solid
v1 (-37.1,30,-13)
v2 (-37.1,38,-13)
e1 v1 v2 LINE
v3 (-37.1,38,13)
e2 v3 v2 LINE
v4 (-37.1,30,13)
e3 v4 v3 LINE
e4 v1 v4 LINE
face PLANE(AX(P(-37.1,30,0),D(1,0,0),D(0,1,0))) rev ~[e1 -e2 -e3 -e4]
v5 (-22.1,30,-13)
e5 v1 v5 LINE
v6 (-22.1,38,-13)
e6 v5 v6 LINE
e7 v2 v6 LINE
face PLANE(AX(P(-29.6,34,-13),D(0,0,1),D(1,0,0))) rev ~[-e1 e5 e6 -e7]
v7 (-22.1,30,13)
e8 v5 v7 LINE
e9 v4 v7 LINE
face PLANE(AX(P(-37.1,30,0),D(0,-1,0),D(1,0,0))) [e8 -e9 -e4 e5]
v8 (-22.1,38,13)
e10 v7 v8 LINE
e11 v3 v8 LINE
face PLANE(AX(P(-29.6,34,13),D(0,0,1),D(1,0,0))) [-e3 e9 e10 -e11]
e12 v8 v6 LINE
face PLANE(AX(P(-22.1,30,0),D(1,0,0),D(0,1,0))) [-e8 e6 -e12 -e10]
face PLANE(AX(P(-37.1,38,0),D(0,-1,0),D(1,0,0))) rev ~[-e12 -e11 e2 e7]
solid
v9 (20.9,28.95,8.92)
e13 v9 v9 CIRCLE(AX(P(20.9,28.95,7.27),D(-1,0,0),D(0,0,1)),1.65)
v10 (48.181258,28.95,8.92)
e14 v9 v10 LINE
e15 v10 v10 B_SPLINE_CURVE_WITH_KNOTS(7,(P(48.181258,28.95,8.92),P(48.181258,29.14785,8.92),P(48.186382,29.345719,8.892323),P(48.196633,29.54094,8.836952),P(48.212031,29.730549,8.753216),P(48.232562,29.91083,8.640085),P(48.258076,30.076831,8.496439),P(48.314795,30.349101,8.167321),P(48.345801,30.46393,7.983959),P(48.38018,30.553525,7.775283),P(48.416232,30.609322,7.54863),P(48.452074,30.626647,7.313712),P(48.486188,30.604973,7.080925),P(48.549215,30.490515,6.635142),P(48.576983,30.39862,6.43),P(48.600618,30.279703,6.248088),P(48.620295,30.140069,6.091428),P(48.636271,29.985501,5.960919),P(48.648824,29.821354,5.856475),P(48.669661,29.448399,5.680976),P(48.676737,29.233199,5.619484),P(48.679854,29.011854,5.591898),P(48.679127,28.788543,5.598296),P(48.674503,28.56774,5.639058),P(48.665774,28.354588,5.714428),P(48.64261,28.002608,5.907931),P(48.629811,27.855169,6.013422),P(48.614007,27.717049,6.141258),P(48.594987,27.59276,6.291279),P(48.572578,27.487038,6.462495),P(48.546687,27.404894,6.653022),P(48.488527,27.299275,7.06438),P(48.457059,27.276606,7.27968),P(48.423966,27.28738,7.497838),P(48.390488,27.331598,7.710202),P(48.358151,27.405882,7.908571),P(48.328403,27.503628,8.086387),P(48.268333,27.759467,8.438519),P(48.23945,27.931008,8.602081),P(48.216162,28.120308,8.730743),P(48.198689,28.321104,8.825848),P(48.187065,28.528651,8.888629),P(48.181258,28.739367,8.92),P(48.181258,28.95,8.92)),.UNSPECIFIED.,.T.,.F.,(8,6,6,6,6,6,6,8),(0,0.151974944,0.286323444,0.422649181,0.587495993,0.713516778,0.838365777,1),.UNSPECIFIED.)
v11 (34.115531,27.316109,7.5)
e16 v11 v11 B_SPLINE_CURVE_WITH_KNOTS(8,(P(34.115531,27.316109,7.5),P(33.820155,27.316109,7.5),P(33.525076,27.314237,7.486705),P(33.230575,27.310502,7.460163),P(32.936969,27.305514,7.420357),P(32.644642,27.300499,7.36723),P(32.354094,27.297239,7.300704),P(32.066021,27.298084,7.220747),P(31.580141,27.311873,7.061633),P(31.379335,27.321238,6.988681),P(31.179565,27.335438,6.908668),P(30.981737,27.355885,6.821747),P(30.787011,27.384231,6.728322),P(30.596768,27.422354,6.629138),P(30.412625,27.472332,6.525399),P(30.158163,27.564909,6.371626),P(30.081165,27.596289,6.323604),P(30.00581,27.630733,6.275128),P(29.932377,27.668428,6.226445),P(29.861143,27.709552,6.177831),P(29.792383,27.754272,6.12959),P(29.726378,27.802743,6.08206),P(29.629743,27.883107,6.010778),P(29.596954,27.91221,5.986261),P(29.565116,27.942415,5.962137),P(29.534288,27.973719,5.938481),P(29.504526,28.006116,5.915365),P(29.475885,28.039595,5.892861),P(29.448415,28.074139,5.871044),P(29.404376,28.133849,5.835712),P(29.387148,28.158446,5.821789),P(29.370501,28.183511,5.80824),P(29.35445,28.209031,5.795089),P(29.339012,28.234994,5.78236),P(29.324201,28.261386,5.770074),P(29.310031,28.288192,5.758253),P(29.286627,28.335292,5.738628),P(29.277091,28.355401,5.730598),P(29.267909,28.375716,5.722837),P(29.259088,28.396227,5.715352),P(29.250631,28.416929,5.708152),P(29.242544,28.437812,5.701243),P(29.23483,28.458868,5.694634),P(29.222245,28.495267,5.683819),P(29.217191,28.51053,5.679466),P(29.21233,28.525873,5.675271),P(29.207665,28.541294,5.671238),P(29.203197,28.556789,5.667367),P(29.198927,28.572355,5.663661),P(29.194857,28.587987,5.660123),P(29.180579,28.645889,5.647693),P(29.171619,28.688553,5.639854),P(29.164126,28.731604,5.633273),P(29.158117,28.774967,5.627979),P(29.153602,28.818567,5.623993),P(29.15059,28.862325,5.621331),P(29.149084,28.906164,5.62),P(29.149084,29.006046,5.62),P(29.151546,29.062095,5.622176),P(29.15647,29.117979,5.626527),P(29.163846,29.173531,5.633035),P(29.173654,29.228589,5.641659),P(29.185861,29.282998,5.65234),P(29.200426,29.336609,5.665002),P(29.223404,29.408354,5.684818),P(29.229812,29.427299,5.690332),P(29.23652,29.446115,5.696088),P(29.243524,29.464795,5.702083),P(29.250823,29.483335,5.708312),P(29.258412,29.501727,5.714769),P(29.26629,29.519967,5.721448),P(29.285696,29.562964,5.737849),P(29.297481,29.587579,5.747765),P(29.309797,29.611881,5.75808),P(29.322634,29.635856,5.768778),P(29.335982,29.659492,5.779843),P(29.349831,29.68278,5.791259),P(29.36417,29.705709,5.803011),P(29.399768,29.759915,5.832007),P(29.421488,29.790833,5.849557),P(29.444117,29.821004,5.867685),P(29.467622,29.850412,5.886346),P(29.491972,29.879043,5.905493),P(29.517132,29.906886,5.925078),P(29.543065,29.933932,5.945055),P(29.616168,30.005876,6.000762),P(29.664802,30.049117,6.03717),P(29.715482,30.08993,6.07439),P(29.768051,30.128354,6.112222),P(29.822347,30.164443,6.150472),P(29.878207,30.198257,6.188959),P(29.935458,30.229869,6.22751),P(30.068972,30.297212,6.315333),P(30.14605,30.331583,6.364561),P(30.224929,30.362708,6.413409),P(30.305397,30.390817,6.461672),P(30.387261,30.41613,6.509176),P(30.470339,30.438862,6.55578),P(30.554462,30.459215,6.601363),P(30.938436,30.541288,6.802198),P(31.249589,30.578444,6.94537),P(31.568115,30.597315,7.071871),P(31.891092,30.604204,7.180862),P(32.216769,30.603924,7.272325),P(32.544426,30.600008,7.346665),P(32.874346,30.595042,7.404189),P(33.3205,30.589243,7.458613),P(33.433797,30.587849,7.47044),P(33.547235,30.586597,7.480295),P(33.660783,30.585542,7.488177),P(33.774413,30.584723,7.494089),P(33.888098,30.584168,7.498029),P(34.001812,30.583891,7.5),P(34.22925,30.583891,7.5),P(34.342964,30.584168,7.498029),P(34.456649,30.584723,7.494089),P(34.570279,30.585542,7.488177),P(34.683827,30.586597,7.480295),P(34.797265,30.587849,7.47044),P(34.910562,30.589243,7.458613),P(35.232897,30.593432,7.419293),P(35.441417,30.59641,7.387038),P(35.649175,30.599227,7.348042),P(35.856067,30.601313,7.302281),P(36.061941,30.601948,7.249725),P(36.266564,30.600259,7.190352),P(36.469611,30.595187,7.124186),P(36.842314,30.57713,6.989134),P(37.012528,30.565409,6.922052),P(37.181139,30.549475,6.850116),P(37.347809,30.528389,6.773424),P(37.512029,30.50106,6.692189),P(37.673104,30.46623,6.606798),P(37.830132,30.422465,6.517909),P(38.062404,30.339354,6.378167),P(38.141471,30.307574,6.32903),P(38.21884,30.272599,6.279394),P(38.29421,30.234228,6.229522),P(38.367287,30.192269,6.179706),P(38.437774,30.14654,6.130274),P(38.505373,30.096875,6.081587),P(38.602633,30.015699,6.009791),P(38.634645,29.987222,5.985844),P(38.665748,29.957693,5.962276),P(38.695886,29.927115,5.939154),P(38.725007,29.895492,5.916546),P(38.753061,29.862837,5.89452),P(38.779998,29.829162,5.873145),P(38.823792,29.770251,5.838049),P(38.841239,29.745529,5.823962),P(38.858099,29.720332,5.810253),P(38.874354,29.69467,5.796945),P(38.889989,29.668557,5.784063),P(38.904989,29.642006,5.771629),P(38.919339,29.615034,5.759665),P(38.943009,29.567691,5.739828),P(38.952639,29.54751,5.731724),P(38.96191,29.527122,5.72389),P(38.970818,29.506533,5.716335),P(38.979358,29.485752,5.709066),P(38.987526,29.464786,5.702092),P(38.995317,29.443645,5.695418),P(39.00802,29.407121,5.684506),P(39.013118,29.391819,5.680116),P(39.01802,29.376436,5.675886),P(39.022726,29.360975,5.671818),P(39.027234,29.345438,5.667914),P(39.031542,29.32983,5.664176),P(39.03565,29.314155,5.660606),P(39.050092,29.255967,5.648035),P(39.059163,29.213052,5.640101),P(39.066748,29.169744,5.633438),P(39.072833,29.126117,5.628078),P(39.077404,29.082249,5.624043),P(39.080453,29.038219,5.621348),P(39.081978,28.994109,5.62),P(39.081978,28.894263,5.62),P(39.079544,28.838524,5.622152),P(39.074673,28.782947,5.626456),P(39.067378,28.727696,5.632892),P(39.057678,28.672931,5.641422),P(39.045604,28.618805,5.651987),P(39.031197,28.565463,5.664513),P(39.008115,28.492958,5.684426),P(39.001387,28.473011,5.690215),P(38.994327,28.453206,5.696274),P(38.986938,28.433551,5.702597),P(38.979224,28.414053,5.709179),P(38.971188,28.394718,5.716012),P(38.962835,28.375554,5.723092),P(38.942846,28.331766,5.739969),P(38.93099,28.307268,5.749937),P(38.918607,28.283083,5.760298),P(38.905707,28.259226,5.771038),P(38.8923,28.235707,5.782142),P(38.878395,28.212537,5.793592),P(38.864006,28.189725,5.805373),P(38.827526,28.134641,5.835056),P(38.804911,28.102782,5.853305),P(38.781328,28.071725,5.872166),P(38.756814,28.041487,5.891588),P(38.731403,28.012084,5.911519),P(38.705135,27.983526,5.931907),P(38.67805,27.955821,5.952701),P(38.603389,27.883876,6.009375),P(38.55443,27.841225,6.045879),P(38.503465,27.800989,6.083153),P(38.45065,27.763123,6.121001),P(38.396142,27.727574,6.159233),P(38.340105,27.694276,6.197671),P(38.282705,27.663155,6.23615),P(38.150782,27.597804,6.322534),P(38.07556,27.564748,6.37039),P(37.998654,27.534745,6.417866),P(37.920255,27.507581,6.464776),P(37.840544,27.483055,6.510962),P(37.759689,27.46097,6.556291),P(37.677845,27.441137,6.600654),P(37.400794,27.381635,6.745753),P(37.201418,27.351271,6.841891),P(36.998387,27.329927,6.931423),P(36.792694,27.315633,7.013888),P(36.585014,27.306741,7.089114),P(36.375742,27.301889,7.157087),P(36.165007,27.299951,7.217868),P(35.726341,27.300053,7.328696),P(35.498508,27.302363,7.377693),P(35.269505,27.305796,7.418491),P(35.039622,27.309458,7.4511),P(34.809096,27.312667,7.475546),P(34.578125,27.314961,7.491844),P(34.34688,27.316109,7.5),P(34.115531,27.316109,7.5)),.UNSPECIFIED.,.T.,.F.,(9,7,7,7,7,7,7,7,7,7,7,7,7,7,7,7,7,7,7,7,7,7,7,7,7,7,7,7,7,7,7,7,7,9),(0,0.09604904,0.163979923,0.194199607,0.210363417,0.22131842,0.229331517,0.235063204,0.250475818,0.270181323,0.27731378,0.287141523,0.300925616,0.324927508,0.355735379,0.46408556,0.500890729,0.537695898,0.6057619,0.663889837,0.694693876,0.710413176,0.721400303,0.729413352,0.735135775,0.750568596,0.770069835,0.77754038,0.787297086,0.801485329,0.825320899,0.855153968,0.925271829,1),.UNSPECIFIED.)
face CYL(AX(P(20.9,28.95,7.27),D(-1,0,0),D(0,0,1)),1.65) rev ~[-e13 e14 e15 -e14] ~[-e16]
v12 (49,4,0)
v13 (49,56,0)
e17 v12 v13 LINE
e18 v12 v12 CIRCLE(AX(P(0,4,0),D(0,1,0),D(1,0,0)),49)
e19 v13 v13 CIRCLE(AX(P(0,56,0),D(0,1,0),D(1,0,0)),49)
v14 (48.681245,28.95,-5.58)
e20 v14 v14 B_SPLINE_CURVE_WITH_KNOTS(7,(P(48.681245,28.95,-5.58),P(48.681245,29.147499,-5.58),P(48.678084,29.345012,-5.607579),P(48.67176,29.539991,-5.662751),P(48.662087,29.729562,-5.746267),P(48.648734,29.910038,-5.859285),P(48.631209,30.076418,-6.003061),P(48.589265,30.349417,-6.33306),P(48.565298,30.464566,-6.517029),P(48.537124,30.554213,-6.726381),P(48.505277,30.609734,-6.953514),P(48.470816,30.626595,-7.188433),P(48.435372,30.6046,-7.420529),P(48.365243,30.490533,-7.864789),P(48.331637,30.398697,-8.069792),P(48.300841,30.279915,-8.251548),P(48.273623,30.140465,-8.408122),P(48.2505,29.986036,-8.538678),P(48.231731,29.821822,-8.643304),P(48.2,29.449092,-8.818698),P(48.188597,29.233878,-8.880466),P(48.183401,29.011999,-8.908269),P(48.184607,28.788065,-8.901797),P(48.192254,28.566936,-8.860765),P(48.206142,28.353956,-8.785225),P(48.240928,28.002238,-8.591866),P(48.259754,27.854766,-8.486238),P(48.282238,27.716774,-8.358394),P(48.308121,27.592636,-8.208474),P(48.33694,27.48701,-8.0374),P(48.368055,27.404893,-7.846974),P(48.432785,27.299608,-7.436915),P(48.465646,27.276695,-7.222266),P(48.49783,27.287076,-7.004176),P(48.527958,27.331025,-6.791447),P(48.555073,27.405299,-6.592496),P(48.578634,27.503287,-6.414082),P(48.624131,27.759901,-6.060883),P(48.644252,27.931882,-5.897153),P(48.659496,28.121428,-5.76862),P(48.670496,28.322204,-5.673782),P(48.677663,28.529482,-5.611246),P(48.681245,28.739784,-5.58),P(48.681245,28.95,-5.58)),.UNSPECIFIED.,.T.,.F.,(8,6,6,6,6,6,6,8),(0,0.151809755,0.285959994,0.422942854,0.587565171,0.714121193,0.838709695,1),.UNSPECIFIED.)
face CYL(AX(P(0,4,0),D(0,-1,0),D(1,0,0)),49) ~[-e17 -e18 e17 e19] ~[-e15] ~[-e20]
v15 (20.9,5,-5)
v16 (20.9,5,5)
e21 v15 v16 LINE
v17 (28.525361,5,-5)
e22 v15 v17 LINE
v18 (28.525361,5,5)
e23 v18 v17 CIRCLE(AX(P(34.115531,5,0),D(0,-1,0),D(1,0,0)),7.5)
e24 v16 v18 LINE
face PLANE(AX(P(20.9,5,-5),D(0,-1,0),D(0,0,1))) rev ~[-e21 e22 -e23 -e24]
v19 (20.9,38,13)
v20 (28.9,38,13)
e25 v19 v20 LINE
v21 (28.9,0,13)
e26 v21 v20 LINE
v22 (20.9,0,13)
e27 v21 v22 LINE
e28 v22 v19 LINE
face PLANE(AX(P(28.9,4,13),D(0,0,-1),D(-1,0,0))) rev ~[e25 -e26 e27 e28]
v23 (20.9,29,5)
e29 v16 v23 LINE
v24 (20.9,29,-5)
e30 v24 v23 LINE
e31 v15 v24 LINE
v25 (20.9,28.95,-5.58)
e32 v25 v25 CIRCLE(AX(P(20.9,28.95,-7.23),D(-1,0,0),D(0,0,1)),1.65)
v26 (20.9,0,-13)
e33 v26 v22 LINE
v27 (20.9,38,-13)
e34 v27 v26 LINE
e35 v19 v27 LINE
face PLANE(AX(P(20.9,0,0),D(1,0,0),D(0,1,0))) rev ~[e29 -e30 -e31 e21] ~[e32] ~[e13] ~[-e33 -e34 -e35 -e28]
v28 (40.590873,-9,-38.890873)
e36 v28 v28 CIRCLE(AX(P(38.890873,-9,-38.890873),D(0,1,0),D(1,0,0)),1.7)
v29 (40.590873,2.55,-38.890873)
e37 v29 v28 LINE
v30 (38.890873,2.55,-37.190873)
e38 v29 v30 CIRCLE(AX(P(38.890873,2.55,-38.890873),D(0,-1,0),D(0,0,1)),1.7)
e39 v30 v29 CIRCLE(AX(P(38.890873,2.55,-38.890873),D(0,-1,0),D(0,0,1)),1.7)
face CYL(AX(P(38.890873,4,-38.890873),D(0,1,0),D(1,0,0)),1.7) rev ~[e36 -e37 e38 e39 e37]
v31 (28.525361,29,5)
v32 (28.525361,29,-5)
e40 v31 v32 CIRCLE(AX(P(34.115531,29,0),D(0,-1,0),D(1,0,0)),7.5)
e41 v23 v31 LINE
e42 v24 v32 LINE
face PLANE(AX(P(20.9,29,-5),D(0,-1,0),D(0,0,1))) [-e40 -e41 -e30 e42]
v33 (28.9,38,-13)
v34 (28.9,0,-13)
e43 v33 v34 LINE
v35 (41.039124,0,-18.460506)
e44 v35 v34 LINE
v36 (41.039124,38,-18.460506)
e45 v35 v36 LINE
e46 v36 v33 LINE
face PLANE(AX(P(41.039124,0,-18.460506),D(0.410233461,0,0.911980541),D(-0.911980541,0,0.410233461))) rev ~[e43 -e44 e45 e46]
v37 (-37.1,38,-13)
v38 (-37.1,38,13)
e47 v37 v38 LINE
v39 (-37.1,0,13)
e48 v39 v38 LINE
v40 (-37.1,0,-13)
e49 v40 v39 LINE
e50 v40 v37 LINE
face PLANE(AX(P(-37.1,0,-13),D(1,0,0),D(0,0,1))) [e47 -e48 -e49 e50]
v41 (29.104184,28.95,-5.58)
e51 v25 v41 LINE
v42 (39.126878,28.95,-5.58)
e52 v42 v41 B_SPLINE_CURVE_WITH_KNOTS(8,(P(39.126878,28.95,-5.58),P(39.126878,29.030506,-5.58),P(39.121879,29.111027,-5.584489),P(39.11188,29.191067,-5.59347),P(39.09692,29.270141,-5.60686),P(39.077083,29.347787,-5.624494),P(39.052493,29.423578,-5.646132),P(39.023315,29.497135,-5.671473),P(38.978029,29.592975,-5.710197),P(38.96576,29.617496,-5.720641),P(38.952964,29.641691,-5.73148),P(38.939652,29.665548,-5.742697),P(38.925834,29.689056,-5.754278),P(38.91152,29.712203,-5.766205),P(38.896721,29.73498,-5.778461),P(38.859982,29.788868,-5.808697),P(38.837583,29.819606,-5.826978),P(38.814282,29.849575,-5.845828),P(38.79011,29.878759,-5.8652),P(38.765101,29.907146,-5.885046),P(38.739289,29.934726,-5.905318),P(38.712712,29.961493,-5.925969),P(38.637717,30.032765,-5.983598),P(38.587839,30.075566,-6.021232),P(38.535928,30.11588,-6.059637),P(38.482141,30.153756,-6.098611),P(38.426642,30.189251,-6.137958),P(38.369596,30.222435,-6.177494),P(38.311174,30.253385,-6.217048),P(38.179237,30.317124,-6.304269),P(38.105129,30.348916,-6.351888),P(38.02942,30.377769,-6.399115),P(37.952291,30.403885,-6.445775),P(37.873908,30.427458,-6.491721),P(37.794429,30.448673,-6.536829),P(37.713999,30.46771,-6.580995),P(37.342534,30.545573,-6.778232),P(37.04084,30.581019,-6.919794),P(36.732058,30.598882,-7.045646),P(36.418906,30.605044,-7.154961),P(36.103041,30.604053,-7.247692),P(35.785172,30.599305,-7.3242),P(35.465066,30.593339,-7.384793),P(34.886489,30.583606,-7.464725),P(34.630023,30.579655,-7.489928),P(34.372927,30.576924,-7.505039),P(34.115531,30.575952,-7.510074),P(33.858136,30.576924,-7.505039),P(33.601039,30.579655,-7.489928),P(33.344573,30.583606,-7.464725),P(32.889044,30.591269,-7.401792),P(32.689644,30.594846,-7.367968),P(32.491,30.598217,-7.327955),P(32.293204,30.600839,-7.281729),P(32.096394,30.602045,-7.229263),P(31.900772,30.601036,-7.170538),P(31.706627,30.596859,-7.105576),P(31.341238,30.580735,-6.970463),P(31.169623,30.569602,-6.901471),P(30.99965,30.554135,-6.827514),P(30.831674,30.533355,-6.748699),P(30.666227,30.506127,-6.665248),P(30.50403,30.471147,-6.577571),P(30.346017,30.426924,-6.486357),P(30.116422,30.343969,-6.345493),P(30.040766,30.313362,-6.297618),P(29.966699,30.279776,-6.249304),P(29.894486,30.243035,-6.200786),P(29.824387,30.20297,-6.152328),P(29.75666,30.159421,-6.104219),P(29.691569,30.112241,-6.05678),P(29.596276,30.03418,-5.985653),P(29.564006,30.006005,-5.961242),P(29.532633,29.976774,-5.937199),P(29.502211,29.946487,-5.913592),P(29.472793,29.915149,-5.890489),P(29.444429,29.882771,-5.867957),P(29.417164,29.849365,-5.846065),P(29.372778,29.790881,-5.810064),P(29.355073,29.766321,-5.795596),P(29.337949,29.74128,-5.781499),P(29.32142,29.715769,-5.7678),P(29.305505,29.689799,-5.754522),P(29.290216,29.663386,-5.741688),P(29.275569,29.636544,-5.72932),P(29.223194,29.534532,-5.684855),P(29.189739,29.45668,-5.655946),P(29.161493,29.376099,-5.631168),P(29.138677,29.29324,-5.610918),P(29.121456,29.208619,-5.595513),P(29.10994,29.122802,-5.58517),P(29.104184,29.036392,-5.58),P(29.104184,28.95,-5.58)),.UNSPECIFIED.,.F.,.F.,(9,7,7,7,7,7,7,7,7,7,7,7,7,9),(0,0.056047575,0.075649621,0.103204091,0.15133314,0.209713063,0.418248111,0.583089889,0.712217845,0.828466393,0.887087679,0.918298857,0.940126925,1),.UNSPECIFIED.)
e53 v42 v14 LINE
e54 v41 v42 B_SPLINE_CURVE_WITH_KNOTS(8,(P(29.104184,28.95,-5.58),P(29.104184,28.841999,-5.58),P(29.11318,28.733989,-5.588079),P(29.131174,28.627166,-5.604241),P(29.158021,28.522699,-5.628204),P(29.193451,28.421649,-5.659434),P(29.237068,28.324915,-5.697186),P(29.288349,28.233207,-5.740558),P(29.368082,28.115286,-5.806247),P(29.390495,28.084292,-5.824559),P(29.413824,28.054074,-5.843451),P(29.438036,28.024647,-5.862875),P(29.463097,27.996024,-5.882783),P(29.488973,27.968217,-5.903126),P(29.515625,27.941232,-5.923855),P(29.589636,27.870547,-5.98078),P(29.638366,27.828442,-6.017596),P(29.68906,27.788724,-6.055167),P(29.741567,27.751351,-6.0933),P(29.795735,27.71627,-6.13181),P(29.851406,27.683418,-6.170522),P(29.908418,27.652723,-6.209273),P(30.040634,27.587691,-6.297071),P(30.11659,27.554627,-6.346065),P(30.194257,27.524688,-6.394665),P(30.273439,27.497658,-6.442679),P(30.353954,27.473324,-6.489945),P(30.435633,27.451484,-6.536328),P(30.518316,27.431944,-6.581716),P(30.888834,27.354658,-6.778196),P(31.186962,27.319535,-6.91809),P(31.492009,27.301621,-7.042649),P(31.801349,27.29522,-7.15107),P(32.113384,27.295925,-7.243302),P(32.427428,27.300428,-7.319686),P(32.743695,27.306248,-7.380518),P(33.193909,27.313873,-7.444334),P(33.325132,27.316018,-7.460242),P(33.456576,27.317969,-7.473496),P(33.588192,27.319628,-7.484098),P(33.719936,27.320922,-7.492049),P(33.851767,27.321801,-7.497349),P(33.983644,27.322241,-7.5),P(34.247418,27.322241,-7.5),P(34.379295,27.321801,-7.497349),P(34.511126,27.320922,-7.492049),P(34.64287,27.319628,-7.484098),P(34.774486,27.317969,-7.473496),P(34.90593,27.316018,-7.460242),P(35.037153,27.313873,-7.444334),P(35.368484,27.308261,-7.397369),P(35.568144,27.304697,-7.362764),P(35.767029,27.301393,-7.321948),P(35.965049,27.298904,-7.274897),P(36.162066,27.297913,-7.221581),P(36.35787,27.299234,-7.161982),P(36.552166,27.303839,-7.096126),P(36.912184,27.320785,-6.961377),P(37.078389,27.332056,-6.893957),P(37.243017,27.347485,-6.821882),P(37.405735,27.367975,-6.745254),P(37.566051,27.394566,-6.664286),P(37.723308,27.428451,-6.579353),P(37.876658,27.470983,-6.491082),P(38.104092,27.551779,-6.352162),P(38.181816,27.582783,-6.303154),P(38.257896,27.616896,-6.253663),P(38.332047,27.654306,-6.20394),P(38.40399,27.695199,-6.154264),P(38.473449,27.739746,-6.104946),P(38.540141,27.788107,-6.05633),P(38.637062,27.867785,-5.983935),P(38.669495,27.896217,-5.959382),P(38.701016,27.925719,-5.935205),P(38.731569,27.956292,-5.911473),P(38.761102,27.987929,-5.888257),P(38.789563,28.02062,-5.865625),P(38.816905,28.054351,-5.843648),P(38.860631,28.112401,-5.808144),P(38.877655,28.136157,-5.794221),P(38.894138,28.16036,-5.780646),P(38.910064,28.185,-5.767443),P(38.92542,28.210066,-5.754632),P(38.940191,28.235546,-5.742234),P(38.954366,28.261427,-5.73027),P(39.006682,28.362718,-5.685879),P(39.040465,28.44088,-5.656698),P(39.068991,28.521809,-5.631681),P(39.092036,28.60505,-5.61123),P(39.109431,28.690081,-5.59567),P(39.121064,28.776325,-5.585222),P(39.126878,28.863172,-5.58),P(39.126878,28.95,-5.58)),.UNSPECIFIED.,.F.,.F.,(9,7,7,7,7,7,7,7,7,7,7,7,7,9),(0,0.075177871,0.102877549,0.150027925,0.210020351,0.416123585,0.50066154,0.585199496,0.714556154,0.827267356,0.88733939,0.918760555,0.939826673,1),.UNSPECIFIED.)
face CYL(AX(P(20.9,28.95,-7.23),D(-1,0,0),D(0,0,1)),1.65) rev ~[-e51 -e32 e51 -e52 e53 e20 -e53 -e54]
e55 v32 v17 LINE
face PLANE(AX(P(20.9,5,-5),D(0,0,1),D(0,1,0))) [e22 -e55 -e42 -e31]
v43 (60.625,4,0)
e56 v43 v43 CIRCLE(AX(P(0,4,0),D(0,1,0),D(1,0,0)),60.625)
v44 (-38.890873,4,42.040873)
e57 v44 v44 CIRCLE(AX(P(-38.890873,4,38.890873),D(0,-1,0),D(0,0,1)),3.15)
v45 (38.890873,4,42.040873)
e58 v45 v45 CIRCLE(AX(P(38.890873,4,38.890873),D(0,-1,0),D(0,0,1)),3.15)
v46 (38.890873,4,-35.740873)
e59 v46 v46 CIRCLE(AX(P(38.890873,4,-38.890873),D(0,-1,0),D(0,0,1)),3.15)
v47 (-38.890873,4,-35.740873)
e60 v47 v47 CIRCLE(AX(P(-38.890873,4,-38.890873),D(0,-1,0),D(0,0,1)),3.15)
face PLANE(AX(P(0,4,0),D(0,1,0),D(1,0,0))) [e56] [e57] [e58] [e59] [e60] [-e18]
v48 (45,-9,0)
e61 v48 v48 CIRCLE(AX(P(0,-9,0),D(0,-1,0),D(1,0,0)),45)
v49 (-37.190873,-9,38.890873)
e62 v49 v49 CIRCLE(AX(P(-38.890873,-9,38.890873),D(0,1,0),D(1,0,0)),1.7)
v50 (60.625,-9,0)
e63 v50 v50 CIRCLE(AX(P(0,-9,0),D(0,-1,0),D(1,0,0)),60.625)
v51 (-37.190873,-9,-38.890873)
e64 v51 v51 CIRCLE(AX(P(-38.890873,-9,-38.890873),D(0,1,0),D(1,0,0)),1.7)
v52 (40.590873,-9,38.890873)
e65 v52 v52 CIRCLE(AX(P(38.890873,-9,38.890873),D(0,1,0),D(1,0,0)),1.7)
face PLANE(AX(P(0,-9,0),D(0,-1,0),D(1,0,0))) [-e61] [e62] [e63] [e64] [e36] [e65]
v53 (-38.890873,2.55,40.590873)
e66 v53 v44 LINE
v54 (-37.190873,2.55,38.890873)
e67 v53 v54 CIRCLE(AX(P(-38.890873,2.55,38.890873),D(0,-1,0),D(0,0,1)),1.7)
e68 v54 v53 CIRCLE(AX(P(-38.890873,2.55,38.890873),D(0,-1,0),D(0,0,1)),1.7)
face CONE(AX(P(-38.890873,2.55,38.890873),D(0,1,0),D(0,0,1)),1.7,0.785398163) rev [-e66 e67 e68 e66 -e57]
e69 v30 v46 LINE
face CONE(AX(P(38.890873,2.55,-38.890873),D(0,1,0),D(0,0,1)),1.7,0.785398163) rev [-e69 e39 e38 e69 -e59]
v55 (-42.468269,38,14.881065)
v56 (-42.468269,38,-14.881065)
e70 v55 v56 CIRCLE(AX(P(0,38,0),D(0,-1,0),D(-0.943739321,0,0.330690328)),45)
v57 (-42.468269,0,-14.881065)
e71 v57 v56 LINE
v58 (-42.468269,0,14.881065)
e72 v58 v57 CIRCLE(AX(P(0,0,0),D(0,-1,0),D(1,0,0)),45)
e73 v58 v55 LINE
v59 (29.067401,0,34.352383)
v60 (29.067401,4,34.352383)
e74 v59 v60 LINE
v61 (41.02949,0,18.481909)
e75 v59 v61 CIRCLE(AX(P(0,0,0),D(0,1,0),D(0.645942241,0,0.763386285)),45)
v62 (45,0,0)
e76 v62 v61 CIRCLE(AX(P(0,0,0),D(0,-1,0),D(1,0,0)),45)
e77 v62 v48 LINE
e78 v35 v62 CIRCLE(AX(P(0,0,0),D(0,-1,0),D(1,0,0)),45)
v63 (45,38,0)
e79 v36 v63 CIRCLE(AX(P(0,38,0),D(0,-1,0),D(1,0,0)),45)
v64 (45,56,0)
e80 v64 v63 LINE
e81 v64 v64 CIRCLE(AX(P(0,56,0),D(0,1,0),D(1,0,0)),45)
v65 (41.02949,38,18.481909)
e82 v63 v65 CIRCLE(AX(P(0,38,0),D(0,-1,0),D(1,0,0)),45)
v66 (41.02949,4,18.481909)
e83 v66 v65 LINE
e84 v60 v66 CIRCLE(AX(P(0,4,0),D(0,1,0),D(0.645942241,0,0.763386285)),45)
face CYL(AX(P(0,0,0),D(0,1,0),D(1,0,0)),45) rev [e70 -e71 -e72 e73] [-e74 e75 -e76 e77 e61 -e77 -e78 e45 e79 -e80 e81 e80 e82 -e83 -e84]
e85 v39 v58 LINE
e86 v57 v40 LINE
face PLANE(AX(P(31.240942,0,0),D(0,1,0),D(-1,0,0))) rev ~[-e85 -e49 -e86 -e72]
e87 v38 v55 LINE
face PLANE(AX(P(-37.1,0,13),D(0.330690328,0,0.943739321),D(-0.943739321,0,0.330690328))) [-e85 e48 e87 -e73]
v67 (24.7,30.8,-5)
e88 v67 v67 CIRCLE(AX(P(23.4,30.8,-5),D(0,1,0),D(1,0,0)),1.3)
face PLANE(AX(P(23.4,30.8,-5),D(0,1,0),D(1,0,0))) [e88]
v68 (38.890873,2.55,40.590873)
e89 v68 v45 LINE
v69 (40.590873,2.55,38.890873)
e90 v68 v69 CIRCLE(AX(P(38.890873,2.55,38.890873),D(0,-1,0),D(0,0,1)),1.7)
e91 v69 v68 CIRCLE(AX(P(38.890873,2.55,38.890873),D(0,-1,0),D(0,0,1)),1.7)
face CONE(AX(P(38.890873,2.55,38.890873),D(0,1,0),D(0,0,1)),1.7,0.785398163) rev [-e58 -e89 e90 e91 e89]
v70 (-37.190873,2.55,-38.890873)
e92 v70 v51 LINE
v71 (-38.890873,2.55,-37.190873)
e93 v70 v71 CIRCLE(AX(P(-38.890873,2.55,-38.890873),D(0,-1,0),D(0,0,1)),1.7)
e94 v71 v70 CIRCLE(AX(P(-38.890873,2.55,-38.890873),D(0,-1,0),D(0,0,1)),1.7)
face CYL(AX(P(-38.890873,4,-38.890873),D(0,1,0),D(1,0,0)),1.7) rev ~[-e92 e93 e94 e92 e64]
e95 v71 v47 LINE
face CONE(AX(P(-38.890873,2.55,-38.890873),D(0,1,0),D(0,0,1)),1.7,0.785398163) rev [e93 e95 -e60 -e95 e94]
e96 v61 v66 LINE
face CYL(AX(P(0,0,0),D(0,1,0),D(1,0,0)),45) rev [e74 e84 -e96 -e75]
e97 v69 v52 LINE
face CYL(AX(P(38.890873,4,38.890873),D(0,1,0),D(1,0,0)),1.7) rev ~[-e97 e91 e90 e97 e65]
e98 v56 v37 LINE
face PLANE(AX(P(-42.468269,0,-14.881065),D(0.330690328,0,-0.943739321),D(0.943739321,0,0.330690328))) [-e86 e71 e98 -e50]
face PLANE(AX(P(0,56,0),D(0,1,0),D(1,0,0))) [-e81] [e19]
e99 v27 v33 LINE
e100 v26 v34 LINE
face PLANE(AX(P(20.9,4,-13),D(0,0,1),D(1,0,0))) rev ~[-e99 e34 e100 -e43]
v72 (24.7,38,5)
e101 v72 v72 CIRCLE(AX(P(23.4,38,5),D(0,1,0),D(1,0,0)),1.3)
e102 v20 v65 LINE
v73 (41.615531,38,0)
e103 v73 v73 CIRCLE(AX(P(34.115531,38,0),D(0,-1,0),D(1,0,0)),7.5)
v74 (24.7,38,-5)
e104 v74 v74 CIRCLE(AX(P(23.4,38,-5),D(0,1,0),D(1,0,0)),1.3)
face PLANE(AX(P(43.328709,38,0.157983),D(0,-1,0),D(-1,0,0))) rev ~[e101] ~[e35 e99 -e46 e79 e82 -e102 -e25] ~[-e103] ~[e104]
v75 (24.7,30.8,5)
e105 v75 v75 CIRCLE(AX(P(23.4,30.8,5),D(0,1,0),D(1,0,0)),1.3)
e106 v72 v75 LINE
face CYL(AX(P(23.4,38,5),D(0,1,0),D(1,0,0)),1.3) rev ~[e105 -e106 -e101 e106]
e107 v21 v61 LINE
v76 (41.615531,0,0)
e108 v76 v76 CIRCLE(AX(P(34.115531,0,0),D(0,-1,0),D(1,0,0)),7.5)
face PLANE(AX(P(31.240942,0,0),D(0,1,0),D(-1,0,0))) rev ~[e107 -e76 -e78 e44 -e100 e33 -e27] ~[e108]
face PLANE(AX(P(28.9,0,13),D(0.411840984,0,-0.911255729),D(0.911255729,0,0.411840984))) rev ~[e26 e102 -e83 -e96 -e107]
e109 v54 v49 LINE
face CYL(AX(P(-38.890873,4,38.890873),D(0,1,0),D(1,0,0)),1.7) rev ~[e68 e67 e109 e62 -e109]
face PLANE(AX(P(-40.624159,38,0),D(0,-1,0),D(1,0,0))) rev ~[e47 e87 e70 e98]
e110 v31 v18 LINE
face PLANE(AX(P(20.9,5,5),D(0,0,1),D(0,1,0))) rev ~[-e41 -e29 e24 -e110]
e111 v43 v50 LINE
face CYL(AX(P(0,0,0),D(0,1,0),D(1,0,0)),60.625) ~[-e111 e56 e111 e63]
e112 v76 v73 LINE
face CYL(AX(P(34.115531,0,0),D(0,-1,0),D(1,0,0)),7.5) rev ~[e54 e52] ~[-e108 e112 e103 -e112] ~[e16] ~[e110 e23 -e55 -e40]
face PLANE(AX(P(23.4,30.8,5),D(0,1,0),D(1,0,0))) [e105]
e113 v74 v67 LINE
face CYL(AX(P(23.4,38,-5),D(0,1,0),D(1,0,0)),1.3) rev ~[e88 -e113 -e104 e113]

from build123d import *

# Parameters (mm, degrees)
SKETCH1_R                                    = 60.625
SKETCH1_R_2                                  = 45
BOSS_EXTRUDE1_DEPTH                          = 4
SKETCH2_R                                    = 49
SKETCH2_R_2                                  = 45
BOSS_EXTRUDE2_DEPTH                          = 52
SKETCH4_W                                    = 8
SKETCH4_H                                    = 38
BOSS_EXTRUDE4_DEPTH                          = 13
SKETCH4_W_2                                  = 15
SKETCH4_H_2                                  = 8
BOSS_EXTRUDE4_2_DEPTH                        = 13
BOSS_EXTRUDE5_DEPTH                          = 4
SKETCH7_R                                    = 1.3
CUT_EXTRUDE4_DEPTH                           = 7.2
SKETCH9_W                                    = 10
SKETCH9_H                                    = 24
CUT_EXTRUDE7_DEPTH                           = 8
CUT_EXTRUDE9_DEPTH                           = 5
CSK_FOR_M3_COUNTERSUNK_FLAT_HEAD_SCR_2_COUNT = 2
CSK_FOR_M3_COUNTERSUNK_FLAT_HEAD_SCR_2_PITCH = 77.781745931
CSK_FOR_M3_COUNTERSUNK_FLAT_HEAD_SCR_3_COUNT = 2
CSK_FOR_M3_COUNTERSUNK_FLAT_HEAD_SCR_3_PITCH = 110
CSK_FOR_M3_COUNTERSUNK_FLAT_HEAD_SCR_4_COUNT = 2
CSK_FOR_M3_COUNTERSUNK_FLAT_HEAD_SCR_4_PITCH = 77.781745931
SALIENTE_EXTRUIR1_DEPTH                      = 38
SALIENTE_EXTRUIR2_DEPTH                      = 38
CROQUIS7_R                                   = 7.5
CORTAR_EXTRUIR1_DEPTH                        = 38
CROQUIS9_R                                   = 1.65
CORTAR_EXTRUIR2_DEPTH                        = 40.725
CROQUIS12_R                                  = 60.625
CROQUIS12_R_2                                = 45
SALIENTE_EXTRUIR4_DEPTH                      = 9
CROQUIS14_R                                  = 1.7
CORTAR_EXTRUIR4_DEPTH                        = 14


with BuildPart() as part:
    # Sketch1 → Boss-Extrude1 (new body)
    with BuildSketch(Plane(origin=(0, 0, 0), x_dir=(1, 0, 0), z_dir=(0, 1, 0))):
        Circle(SKETCH1_R)
        Circle(SKETCH1_R_2, mode=Mode.SUBTRACT)
    extrude(amount=BOSS_EXTRUDE1_DEPTH)

    # Sketch2 → Boss-Extrude2 (add)
    with BuildSketch(Plane(origin=(0, 4, 0), x_dir=(1, 0, 0), z_dir=(0, 1, 0))):
        Circle(SKETCH2_R)
        Circle(SKETCH2_R_2, mode=Mode.SUBTRACT)
    extrude(amount=BOSS_EXTRUDE2_DEPTH)



with BuildPart() as body_2:
    # Sketch4 → Boss-Extrude4 (new body, symmetric)
    with BuildSketch(Plane.XY):
        with Locations((24.9, 19)):
            Rectangle(SKETCH4_W, SKETCH4_H)
    extrude(amount=BOSS_EXTRUDE4_DEPTH, both=True)


with BuildPart() as body_3:
    # Sketch4 → Boss-Extrude4 2 (new body, symmetric)
    with BuildSketch(Plane.XY):
        with Locations((-29.6, 34)):
            Rectangle(SKETCH4_W_2, SKETCH4_H_2)
    extrude(amount=BOSS_EXTRUDE4_2_DEPTH, both=True)


with BuildPart() as part_1:
    add(part.part)

    add(body_2.part)  # Boss-Extrude5 merges body 2
    # Sketch5 → Boss-Extrude5 (add)
    with BuildSketch(Plane.XZ):
        with BuildLine():
            Line((20.9, 13), (29.067400866, 34.352382842))
            ThreePointArc((29.067400866, 34.352382842), (45, 0), (29.067400866, -34.352382842))
            Line((29.067400866, -34.352382842), (20.9, -13))
            Line((20.9, -13), (20.9, 13))
        make_face()
    extrude(amount=-BOSS_EXTRUDE5_DEPTH)

    # Sketch7 → Cut-Extrude4 (cut)
    with BuildSketch(Plane(origin=(0, 38, 0), x_dir=(1, 0, 0), z_dir=(0, 1, 0))):
        with Locations((-24.6, 5)):
            Circle(SKETCH7_R)
        with Locations((-24.6, -5)):
            Circle(SKETCH7_R)
        with Locations((23.4, 5)):
            Circle(SKETCH7_R)
        with Locations((23.4, -5)):
            Circle(SKETCH7_R)
    extrude(amount=-CUT_EXTRUDE4_DEPTH, mode=Mode.SUBTRACT)

    # Sketch9 → Cut-Extrude7 (cut)
    with BuildSketch(Plane.ZY.offset(-20.9)):
        with Locations((0, 17)):
            Rectangle(SKETCH9_W, SKETCH9_H)
    extrude(amount=-CUT_EXTRUDE7_DEPTH, mode=Mode.SUBTRACT)

    # Sketch12 → Cut-Extrude9 (cut, through all)
    with BuildSketch(Plane(origin=(0, 4, 0), x_dir=(1, 0, 0), z_dir=(0, 1, 0))):
        with BuildLine():
            ThreePointArc((36.9, -2.718455444), (37, 0), (36.9, 2.718455444))
            Line((36.9, 2.718455444), (36.9, -2.718455444))
        make_face()
        with BuildLine():
            ThreePointArc((29.067400866, -34.352382842), (40.822990085, -18.933659987), (45, 0))
            ThreePointArc((45, 0), (40.822990085, 18.933659987), (29.067400866, 34.352382842))
            Line((29.067400866, 34.352382842), (20.9, 13))
            Line((20.9, 13), (28.9, 13))
            Line((28.9, 13), (28.9, -13))
            Line((28.9, -13), (20.9, -13))
            Line((20.9, -13), (29.067400866, -34.352382842))
        make_face()
        with BuildLine():
            Line((36.9, -2.718455444), (36.9, 2.718455444))
            ThreePointArc((36.9, 2.718455444), (37, 0), (36.9, -2.718455444))
        make_face(mode=Mode.SUBTRACT)
    extrude(amount=-CUT_EXTRUDE9_DEPTH, mode=Mode.SUBTRACT)

    # Sketch17 → CSK for M3 Countersunk Flat Head Screw1 (revolve, cut)
    with BuildSketch(Plane(origin=(-38.890872965, 4, -38.890872965), x_dir=(0, 0, 1), z_dir=(1, 0, 0))):
        Polygon((0, 0), (0, 4.001), (1.7, 4.001), (1.7, 1.45), (3.15, 0), align=None)
    csk_for_m3_countersunk_flat_head_screw1 = revolve(axis=Axis((-38.890872965, 10.35, -38.890872965), (0, -1, 0)), mode=Mode.SUBTRACT)

    # CSK for M3 Countersunk Flat Head Scr 2: CSK for M3 Countersunk Flat Head Screw1 ×2
    with Locations(*[(0, 0, i * CSK_FOR_M3_COUNTERSUNK_FLAT_HEAD_SCR_2_PITCH) for i in range(1, CSK_FOR_M3_COUNTERSUNK_FLAT_HEAD_SCR_2_COUNT)]):
        add(csk_for_m3_countersunk_flat_head_screw1, mode=Mode.SUBTRACT)

    # CSK for M3 Countersunk Flat Head Scr 3: CSK for M3 Countersunk Flat Head Screw1 ×2
    with Locations(*[Vector(0.707106781, 0, 0.707106781) * (i * CSK_FOR_M3_COUNTERSUNK_FLAT_HEAD_SCR_3_PITCH) for i in range(1, CSK_FOR_M3_COUNTERSUNK_FLAT_HEAD_SCR_3_COUNT)]):
        add(csk_for_m3_countersunk_flat_head_screw1, mode=Mode.SUBTRACT)

    # CSK for M3 Countersunk Flat Head Scr 4: CSK for M3 Countersunk Flat Head Screw1 ×2
    with Locations(*[(i * CSK_FOR_M3_COUNTERSUNK_FLAT_HEAD_SCR_4_PITCH, 0, 0) for i in range(1, CSK_FOR_M3_COUNTERSUNK_FLAT_HEAD_SCR_4_COUNT)]):
        add(csk_for_m3_countersunk_flat_head_screw1, mode=Mode.SUBTRACT)

    # Croquis3 → Saliente-Extruir1 (add)
    with BuildSketch(Plane.XZ):
        Polygon((28.9, 13), (41.02948985, 18.481909063), (41.039124346, -18.460505761), (28.9, -13), align=None)
        with BuildLine():
            Line((-37.1, 13), (-42.468269464, 14.881064772))
            ThreePointArc((-42.468269464, 14.881064772), (-45, 0), (-42.468269464, -14.881064772))
            Line((-42.468269464, -14.881064772), (-37.1, -13))
            Line((-37.1, -13), (-37.1, 13))
        make_face()
    extrude(amount=-SALIENTE_EXTRUIR1_DEPTH)

    # Croquis6 → Saliente-Extruir2 (add)
    with BuildSketch(Plane(origin=(0, 0, 0), x_dir=(1, 0, 0), z_dir=(0, 1, 0))):
        Polygon((41.039124346, 18.460505761), (43.840051606, 18.460505761), (46.523602828, 6.268088211), (46.523602828, -4.665099601), (45, -15.515113827), (44.583260481, -18.482835878), (41.02948985, -18.481909063), align=None)
    extrude(amount=SALIENTE_EXTRUIR2_DEPTH)

    # Croquis7 → Cortar-Extruir1 (cut)
    with BuildSketch(Plane.XZ):
        with Locations((34.115531068, 0)):
            Circle(CROQUIS7_R)
    extrude(amount=-CORTAR_EXTRUIR1_DEPTH, mode=Mode.SUBTRACT)

    # Croquis9 → Cortar-Extruir2 (cut, through all)
    with BuildSketch(Plane.ZY.offset(-20.9)):
        with Locations((-7.23, 28.95)):
            Circle(CROQUIS9_R)
        with Locations((7.27, 28.95)):
            Circle(CROQUIS9_R)
    extrude(amount=-CORTAR_EXTRUIR2_DEPTH, mode=Mode.SUBTRACT)

    # Croquis12 → Saliente-Extruir4 (add)
    with BuildSketch(Plane.XZ):
        Circle(CROQUIS12_R)
        Circle(CROQUIS12_R_2, mode=Mode.SUBTRACT)
    extrude(amount=SALIENTE_EXTRUIR4_DEPTH)

    # Croquis14 → Cortar-Extruir4 (cut, through all)
    with BuildSketch(Plane(origin=(0, 4, 0), x_dir=(1, 0, 0), z_dir=(0, 1, 0))):
        with Locations((-38.890872965, 38.890872965)):
            Circle(CROQUIS14_R)
        with Locations((38.890872965, 38.890872965)):
            Circle(CROQUIS14_R)
        with Locations((38.890872965, -38.890872965)):
            Circle(CROQUIS14_R)
        with Locations((-38.890872965, -38.890872965)):
            Circle(CROQUIS14_R)
    extrude(amount=-CORTAR_EXTRUIR4_DEPTH, mode=Mode.SUBTRACT)


solid = Compound([body_3.part, part_1.part])
